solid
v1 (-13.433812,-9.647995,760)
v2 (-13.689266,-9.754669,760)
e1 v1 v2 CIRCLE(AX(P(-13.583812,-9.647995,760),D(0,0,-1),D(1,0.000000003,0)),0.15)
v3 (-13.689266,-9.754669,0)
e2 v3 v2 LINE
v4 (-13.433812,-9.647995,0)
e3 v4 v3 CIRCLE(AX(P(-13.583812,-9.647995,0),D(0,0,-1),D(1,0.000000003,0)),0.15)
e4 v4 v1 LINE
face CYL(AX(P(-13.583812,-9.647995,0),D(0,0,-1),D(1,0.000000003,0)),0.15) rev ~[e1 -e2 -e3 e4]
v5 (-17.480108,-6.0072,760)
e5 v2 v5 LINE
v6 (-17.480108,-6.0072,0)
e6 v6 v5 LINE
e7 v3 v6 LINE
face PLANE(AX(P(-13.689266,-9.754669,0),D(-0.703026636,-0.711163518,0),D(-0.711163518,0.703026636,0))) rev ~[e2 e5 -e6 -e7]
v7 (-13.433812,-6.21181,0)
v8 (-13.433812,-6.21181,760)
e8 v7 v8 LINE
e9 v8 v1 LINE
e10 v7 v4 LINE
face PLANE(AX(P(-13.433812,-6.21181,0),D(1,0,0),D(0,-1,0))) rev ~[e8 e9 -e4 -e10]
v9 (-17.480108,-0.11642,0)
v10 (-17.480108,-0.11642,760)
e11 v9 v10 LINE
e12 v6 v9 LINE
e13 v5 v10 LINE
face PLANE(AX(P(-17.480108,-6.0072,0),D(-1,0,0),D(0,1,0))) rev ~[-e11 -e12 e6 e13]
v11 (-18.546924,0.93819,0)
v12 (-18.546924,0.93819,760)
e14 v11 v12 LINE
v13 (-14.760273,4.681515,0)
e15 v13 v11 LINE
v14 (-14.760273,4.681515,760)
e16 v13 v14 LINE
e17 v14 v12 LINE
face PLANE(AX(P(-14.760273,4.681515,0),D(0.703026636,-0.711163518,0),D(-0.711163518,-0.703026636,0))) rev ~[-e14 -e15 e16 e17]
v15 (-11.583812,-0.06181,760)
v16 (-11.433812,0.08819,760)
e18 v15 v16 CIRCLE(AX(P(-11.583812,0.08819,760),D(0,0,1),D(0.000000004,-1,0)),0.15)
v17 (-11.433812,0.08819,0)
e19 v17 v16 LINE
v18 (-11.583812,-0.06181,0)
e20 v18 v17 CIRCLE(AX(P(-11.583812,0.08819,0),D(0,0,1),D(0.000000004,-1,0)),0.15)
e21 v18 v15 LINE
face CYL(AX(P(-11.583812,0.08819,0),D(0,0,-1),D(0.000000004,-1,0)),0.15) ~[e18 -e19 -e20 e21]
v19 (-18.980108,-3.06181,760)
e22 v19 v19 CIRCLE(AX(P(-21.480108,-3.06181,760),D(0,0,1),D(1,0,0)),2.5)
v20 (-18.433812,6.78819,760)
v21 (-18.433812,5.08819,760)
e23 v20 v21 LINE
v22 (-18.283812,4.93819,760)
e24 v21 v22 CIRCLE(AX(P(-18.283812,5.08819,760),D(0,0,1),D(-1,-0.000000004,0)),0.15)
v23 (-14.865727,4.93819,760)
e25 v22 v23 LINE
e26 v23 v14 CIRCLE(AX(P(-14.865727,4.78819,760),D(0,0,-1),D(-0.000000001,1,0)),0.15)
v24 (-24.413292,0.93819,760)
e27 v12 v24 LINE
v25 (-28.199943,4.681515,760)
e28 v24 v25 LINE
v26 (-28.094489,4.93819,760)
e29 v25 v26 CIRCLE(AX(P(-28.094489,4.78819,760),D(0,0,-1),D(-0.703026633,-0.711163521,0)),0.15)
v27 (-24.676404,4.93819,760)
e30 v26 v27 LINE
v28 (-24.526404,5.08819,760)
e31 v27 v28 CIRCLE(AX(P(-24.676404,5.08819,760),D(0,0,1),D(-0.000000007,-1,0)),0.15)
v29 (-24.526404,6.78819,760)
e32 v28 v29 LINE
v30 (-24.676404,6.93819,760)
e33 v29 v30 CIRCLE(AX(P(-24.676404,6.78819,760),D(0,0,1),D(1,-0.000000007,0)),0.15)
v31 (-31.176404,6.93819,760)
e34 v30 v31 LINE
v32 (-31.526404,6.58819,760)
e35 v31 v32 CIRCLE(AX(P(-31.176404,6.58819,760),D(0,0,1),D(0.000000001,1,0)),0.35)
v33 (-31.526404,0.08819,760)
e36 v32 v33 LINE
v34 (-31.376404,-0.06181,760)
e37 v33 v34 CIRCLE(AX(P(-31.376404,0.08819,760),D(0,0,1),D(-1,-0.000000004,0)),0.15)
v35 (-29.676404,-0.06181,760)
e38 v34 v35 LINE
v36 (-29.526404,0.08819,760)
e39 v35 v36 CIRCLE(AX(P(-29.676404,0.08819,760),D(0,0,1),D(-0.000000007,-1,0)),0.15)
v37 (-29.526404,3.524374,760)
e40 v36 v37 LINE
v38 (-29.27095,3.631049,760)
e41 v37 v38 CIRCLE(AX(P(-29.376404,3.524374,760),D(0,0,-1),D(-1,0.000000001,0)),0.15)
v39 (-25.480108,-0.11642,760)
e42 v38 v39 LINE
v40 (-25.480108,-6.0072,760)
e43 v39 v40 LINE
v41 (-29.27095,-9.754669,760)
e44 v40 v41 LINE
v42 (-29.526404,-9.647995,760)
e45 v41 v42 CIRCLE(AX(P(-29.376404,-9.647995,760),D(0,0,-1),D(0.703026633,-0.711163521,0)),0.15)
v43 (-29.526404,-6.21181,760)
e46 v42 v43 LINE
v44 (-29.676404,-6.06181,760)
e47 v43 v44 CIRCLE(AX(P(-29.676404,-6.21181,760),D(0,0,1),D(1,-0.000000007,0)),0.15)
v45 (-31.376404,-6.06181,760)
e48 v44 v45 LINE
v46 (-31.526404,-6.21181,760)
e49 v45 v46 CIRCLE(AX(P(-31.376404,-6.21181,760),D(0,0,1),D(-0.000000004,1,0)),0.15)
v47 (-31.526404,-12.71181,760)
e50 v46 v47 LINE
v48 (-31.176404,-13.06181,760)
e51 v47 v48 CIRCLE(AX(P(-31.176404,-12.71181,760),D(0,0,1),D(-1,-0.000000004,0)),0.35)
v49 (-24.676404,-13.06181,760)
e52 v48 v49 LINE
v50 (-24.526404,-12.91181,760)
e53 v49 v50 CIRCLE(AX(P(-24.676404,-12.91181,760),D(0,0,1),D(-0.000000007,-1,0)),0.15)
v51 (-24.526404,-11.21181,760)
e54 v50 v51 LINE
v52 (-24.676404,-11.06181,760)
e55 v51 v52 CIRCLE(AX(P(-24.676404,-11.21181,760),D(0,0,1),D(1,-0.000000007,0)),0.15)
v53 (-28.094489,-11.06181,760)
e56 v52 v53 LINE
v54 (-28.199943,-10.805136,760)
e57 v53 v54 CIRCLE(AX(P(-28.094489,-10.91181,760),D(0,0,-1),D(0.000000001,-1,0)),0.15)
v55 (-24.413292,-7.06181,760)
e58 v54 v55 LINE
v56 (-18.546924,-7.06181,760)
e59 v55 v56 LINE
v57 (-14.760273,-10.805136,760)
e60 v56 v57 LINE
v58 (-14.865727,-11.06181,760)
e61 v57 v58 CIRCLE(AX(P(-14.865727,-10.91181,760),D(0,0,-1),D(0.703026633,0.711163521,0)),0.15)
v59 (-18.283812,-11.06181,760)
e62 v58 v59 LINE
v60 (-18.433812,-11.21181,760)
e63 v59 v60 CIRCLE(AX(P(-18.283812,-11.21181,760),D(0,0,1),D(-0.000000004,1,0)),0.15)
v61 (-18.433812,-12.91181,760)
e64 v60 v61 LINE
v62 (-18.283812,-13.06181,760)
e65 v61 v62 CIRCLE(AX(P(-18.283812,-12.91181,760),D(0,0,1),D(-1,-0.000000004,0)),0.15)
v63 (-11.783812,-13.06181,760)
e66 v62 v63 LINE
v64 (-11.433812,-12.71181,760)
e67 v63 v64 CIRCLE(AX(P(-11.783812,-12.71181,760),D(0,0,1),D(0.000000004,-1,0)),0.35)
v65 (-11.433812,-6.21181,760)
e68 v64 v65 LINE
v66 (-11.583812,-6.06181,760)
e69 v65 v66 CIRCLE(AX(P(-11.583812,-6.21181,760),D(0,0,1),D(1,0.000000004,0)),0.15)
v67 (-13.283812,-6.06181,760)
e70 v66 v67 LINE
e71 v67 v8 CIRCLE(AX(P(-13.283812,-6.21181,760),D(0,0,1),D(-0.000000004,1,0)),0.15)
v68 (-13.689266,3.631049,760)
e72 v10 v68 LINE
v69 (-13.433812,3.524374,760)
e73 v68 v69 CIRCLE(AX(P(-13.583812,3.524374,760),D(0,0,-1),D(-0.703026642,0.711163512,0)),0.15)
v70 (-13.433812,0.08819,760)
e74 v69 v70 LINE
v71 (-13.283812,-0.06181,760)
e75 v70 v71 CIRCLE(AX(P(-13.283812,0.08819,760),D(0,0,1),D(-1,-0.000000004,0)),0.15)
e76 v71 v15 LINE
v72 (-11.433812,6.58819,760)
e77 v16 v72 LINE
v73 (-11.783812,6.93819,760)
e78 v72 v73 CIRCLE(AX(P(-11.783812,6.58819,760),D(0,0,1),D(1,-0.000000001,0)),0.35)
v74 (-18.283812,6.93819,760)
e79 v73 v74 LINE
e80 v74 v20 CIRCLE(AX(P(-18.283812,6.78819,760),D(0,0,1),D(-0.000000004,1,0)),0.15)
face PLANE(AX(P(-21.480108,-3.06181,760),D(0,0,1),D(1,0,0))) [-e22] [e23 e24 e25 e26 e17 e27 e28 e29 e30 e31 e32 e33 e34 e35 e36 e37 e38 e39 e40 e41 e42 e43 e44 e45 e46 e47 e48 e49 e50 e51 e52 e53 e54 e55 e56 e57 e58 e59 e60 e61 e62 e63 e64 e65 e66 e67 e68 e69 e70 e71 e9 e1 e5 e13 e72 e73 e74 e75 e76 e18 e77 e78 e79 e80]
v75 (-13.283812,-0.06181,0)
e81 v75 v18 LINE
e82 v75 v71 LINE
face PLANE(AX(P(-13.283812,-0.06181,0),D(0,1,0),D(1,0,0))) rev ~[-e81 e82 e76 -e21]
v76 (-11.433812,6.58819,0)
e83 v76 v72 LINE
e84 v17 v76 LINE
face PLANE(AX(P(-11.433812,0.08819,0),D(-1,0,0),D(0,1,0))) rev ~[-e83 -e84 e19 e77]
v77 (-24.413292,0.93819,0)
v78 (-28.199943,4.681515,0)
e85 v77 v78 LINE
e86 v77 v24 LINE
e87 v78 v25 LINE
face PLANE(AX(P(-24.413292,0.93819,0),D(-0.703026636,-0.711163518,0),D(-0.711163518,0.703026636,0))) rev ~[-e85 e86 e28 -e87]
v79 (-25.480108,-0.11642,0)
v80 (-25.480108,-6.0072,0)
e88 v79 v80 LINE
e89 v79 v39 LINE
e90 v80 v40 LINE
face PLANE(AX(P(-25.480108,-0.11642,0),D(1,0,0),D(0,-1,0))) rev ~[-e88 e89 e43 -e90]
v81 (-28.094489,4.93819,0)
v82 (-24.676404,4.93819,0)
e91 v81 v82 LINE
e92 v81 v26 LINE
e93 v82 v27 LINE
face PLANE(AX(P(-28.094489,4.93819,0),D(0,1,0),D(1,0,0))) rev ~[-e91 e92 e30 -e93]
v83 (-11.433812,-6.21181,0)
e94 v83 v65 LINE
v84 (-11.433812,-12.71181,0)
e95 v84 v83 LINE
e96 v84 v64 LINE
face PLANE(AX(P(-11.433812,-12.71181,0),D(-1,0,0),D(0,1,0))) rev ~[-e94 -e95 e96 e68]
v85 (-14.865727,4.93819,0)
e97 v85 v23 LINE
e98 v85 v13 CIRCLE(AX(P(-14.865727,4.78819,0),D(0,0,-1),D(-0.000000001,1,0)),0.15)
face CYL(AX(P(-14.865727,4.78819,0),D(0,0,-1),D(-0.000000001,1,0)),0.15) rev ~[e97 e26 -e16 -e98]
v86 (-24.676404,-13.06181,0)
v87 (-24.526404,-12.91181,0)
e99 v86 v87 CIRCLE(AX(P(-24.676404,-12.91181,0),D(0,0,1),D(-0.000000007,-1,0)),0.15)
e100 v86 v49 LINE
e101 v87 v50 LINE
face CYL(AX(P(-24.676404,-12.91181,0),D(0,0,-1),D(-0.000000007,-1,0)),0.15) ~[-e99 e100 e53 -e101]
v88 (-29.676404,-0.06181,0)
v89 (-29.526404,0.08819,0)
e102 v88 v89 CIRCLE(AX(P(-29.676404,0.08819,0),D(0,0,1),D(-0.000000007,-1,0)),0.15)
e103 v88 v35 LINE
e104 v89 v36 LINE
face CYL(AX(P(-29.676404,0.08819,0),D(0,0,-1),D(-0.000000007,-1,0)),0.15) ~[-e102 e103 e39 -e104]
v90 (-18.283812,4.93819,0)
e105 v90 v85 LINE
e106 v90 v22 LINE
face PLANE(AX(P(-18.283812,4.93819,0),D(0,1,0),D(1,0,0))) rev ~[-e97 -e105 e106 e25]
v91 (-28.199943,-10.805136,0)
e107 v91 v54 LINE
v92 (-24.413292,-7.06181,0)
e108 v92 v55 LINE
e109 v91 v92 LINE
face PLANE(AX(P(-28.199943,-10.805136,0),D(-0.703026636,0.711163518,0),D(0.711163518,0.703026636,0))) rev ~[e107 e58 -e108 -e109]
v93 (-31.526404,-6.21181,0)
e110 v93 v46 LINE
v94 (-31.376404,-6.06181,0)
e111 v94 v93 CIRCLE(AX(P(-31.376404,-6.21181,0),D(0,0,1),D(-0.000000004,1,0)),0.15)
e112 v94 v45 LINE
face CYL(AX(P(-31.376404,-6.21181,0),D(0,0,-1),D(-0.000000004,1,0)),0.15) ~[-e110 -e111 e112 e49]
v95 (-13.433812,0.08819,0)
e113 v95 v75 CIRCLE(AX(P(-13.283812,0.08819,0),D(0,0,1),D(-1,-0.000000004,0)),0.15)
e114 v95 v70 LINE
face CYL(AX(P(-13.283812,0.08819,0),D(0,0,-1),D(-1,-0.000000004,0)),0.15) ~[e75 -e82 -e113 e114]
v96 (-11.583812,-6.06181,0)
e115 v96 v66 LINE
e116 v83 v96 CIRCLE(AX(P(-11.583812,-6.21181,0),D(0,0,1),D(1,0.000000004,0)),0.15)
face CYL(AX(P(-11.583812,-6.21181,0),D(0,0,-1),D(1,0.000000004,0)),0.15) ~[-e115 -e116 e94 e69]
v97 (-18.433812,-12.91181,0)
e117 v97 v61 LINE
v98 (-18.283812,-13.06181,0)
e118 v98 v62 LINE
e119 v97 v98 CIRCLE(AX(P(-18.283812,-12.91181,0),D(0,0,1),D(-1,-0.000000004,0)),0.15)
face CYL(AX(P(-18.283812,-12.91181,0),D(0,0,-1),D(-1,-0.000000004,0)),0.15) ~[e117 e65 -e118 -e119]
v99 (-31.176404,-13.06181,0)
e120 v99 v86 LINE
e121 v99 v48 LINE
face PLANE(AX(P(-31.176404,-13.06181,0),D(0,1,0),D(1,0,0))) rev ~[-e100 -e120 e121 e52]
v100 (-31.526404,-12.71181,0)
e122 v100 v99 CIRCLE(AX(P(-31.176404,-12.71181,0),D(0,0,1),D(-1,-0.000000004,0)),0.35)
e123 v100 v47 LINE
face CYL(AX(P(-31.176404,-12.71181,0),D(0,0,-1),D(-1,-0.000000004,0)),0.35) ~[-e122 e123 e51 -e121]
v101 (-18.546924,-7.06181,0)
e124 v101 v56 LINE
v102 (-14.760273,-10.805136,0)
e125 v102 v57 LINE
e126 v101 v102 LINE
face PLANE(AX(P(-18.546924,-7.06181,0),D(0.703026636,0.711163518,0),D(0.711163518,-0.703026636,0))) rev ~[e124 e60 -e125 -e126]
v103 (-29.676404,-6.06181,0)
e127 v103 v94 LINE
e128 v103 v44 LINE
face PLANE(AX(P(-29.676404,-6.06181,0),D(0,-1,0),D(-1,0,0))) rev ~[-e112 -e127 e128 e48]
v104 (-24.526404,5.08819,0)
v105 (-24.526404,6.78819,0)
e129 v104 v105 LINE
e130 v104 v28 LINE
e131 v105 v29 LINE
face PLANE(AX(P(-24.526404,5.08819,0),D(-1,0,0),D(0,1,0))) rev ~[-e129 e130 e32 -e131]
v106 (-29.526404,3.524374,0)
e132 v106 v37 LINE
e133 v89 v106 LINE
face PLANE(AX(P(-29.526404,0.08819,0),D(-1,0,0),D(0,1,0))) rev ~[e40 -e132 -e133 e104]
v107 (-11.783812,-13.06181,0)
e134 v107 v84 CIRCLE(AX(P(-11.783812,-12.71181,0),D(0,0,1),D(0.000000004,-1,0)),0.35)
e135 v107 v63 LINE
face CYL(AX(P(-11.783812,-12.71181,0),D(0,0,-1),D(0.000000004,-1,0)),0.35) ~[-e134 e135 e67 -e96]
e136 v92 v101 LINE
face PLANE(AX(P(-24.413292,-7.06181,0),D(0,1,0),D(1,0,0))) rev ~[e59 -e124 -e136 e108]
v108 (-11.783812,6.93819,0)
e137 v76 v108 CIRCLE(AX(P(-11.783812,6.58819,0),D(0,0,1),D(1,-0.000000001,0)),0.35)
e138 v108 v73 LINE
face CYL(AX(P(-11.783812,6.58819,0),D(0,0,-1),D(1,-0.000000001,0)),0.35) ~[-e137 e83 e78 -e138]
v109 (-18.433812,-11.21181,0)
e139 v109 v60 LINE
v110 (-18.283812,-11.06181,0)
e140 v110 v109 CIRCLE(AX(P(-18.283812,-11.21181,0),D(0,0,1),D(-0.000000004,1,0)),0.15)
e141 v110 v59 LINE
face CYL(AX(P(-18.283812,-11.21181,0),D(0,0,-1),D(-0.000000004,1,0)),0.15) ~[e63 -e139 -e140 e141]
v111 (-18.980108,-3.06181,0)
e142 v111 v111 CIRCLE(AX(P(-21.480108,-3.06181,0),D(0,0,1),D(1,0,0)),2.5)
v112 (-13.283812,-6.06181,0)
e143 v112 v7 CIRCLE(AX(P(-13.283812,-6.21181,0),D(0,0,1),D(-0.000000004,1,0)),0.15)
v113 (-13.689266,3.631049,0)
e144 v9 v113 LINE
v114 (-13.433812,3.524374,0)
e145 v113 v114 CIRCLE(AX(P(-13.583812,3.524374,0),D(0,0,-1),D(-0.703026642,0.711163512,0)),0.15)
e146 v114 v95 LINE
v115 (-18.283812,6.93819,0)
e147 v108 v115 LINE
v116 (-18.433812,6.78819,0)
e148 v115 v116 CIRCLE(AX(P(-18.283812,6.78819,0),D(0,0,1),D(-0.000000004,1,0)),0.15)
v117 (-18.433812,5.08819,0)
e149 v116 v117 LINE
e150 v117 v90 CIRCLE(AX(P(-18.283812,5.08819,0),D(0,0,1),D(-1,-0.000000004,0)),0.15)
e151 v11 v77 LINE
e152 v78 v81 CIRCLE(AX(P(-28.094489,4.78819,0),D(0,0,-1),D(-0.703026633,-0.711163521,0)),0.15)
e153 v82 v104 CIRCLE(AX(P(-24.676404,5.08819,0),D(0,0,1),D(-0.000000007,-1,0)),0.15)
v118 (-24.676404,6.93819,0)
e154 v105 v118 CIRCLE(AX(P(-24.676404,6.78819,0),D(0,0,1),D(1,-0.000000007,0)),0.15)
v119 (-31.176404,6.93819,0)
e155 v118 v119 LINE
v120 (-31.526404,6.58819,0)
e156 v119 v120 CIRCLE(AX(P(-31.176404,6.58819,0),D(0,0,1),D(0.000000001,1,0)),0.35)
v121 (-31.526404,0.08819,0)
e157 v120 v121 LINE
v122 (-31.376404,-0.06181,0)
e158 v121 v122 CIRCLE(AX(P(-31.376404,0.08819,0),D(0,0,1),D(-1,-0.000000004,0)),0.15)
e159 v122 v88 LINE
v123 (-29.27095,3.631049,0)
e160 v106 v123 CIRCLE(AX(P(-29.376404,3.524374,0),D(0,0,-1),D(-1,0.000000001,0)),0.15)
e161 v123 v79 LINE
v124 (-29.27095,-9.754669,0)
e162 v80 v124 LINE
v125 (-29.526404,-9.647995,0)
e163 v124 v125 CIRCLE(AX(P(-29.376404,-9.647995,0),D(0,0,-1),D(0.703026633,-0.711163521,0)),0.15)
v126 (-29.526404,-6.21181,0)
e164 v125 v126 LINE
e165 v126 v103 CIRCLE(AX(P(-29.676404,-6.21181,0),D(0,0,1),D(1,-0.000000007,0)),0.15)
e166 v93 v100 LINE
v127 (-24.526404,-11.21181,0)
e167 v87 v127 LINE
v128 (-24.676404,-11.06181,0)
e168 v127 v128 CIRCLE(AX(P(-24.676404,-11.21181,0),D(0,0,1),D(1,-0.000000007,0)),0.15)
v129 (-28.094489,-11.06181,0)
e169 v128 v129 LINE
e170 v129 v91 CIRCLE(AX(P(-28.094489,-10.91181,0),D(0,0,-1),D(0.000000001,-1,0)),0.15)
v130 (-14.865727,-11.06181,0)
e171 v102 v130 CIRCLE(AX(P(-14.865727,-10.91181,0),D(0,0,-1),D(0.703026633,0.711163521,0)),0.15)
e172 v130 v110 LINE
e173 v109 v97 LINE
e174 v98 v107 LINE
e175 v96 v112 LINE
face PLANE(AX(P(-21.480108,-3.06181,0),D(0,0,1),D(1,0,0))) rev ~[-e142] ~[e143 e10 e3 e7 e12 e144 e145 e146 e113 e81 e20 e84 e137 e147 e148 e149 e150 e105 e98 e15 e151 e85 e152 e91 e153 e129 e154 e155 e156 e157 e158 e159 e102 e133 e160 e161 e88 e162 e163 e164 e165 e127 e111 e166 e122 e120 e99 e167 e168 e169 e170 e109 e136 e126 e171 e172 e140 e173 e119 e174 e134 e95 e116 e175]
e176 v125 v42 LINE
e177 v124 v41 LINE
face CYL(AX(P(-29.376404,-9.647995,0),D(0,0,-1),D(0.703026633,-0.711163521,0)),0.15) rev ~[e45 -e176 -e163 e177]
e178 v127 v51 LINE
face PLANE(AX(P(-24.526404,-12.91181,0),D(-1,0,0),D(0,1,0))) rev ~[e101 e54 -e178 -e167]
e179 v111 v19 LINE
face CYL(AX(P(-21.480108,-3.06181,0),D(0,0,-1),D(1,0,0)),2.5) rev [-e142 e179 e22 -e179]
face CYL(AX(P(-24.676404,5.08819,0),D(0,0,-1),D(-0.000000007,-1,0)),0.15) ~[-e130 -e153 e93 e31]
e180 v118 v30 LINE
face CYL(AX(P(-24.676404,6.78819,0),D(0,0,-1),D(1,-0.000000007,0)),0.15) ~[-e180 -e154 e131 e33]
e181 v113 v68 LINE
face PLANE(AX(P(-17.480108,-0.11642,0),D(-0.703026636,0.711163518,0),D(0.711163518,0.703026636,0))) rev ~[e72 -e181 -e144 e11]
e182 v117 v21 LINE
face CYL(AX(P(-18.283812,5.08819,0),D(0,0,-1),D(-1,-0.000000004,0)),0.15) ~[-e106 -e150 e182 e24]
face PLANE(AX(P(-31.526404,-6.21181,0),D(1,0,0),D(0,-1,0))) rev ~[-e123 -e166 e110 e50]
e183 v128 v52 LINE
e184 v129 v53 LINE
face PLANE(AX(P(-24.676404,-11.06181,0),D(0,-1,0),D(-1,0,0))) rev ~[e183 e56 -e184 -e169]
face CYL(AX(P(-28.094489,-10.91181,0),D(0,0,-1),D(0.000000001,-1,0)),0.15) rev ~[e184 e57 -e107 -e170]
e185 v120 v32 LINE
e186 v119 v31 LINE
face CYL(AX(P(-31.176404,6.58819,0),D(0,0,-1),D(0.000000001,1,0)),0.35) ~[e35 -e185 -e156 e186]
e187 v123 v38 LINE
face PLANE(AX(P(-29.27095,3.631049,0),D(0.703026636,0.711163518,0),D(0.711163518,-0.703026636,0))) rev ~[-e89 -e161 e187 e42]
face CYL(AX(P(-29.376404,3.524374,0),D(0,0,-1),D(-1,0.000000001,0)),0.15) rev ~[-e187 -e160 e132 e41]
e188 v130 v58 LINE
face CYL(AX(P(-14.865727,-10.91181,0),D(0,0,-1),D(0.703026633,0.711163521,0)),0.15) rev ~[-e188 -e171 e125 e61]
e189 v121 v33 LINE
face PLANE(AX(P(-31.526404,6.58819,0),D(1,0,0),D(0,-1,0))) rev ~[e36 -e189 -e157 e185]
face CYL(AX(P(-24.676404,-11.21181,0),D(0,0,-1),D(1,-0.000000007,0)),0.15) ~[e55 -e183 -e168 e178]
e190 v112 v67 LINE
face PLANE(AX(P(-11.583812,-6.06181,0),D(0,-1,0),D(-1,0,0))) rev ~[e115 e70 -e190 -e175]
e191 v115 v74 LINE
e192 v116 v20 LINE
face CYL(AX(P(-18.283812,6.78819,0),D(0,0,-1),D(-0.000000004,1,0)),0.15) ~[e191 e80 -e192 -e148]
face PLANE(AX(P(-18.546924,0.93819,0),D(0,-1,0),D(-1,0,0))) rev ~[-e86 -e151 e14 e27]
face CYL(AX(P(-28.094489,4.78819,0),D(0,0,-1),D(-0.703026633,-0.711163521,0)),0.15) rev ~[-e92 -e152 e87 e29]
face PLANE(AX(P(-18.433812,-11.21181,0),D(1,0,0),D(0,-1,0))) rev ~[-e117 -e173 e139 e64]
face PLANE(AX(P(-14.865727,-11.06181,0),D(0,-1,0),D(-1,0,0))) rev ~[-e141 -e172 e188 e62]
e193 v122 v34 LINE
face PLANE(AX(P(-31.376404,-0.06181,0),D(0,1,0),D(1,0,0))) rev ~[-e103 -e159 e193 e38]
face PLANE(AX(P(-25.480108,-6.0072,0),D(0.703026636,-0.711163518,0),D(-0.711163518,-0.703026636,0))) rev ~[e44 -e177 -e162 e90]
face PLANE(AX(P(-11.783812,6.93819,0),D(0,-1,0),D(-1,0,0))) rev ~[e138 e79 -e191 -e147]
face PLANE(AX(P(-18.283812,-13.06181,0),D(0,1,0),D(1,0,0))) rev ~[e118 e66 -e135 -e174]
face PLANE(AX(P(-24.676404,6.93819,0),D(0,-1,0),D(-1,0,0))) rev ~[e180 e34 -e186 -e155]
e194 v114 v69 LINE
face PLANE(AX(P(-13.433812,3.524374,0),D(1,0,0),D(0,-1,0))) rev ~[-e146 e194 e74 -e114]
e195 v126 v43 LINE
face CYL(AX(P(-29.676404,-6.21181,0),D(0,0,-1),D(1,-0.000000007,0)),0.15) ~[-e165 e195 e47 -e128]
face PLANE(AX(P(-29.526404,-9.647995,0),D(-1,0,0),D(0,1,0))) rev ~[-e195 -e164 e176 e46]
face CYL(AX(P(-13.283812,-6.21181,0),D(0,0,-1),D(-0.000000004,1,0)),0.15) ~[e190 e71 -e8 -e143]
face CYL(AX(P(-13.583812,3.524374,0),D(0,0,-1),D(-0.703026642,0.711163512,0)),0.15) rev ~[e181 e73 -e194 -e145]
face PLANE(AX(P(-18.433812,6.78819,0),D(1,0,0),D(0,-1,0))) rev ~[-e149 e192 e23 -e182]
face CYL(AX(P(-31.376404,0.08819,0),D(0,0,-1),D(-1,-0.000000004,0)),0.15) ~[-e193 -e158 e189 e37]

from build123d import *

# Parameters (mm, degrees)
SKETCH1_R           = 2.5
BOSS_EXTRUDE1_DEPTH = 760


with BuildPart() as part:
    # Sketch1 → Boss-Extrude1 (new body)
    with BuildSketch(Plane.XY):
        with BuildLine():
            Line((-31.376404226, -0.06181021), (-29.676404226, -0.06181021))
            ThreePointArc((-29.676404226, -0.06181021), (-29.570338208, -0.017876227), (-29.526404226, 0.08818979))
            Line((-29.526404226, 0.08818979), (-29.526404226, 3.524374304))
            ThreePointArc((-29.526404226, 3.524374304), (-29.43420518, 3.662790523), (-29.27095023, 3.631048831))
            Line((-29.27095023, 3.631048831), (-25.480107929, -0.116419988))
            Line((-25.480107929, -0.116419988), (-25.480107929, -6.007200432))
            Line((-25.480107929, -6.007200432), (-29.27095023, -9.754669251))
            ThreePointArc((-29.27095023, -9.754669251), (-29.43420518, -9.786410942), (-29.526404226, -9.647994723))
            Line((-29.526404226, -9.647994723), (-29.526404226, -6.21181021))
            ThreePointArc((-29.526404226, -6.21181021), (-29.570338208, -6.105744193), (-29.676404226, -6.06181021))
            Line((-29.676404226, -6.06181021), (-31.376404226, -6.06181021))
            ThreePointArc((-31.376404226, -6.06181021), (-31.482470243, -6.105744193), (-31.526404226, -6.21181021))
            Line((-31.526404226, -6.21181021), (-31.526404226, -12.71181021))
            ThreePointArc((-31.526404226, -12.71181021), (-31.423891599, -12.959297583), (-31.176404226, -13.06181021))
            Line((-31.176404226, -13.06181021), (-24.676404226, -13.06181021))
            ThreePointArc((-24.676404226, -13.06181021), (-24.570338208, -13.017876227), (-24.526404226, -12.91181021))
            Line((-24.526404226, -12.91181021), (-24.526404226, -11.21181021))
            ThreePointArc((-24.526404226, -11.21181021), (-24.570338208, -11.105744193), (-24.676404226, -11.06181021))
            Line((-24.676404226, -11.06181021), (-28.094489023, -11.06181021))
            ThreePointArc((-28.094489023, -11.06181021), (-28.233235517, -10.96881381), (-28.199943018, -10.805135682))
            Line((-28.199943018, -10.805135682), (-24.41329202, -7.06181021))
            Line((-24.41329202, -7.06181021), (-18.546923839, -7.06181021))
            Line((-18.546923839, -7.06181021), (-14.760272841, -10.805135682))
            ThreePointArc((-14.760272841, -10.805135682), (-14.726980342, -10.96881381), (-14.865726836, -11.06181021))
            Line((-14.865726836, -11.06181021), (-18.283811633, -11.06181021))
            ThreePointArc((-18.283811633, -11.06181021), (-18.38987765, -11.105744193), (-18.433811633, -11.21181021))
            Line((-18.433811633, -11.21181021), (-18.433811633, -12.91181021))
            ThreePointArc((-18.433811633, -12.91181021), (-18.38987765, -13.017876227), (-18.283811633, -13.06181021))
            Line((-18.283811633, -13.06181021), (-11.783811633, -13.06181021))
            ThreePointArc((-11.783811633, -13.06181021), (-11.53632426, -12.959297583), (-11.433811633, -12.71181021))
            Line((-11.433811633, -12.71181021), (-11.433811633, -6.21181021))
            ThreePointArc((-11.433811633, -6.21181021), (-11.477745616, -6.105744193), (-11.583811633, -6.06181021))
            Line((-11.583811633, -6.06181021), (-13.283811633, -6.06181021))
            ThreePointArc((-13.283811633, -6.06181021), (-13.38987765, -6.105744193), (-13.433811633, -6.21181021))
            Line((-13.433811633, -6.21181021), (-13.433811633, -9.647994723))
            ThreePointArc((-13.433811633, -9.647994723), (-13.526010678, -9.786410942), (-13.689265628, -9.754669251))
            Line((-13.689265628, -9.754669251), (-17.480107929, -6.007200432))
            Line((-17.480107929, -6.007200432), (-17.480107929, -0.116419988))
            Line((-17.480107929, -0.116419988), (-13.689265628, 3.631048831))
            ThreePointArc((-13.689265628, 3.631048831), (-13.526010678, 3.662790523), (-13.433811633, 3.524374304))
            Line((-13.433811633, 3.524374304), (-13.433811633, 0.08818979))
            ThreePointArc((-13.433811633, 0.08818979), (-13.38987765, -0.017876227), (-13.283811633, -0.06181021))
            Line((-13.283811633, -0.06181021), (-11.583811633, -0.06181021))
            ThreePointArc((-11.583811633, -0.06181021), (-11.477745616, -0.017876227), (-11.433811633, 0.08818979))
            Line((-11.433811633, 0.08818979), (-11.433811633, 6.58818979))
            ThreePointArc((-11.433811633, 6.58818979), (-11.53632426, 6.835677164), (-11.783811633, 6.93818979))
            Line((-11.783811633, 6.93818979), (-18.283811633, 6.93818979))
            ThreePointArc((-18.283811633, 6.93818979), (-18.38987765, 6.894255807), (-18.433811633, 6.78818979))
            Line((-18.433811633, 6.78818979), (-18.433811633, 5.08818979))
            ThreePointArc((-18.433811633, 5.08818979), (-18.38987765, 4.982123773), (-18.283811633, 4.93818979))
            Line((-18.283811633, 4.93818979), (-14.865726836, 4.93818979))
            ThreePointArc((-14.865726836, 4.93818979), (-14.726980342, 4.84519339), (-14.760272841, 4.681515262))
            Line((-14.760272841, 4.681515262), (-18.546923839, 0.93818979))
            Line((-18.546923839, 0.93818979), (-24.41329202, 0.93818979))
            Line((-24.41329202, 0.93818979), (-28.199943018, 4.681515262))
            ThreePointArc((-28.199943018, 4.681515262), (-28.233235517, 4.84519339), (-28.094489023, 4.93818979))
            Line((-28.094489023, 4.93818979), (-24.676404226, 4.93818979))
            ThreePointArc((-24.676404226, 4.93818979), (-24.570338208, 4.982123773), (-24.526404226, 5.08818979))
            Line((-24.526404226, 5.08818979), (-24.526404226, 6.78818979))
            ThreePointArc((-24.526404226, 6.78818979), (-24.570338208, 6.894255807), (-24.676404226, 6.93818979))
            Line((-24.676404226, 6.93818979), (-31.176404226, 6.93818979))
            ThreePointArc((-31.176404226, 6.93818979), (-31.423891599, 6.835677164), (-31.526404226, 6.58818979))
            Line((-31.526404226, 6.58818979), (-31.526404226, 0.08818979))
            ThreePointArc((-31.526404226, 0.08818979), (-31.482470243, -0.017876227), (-31.376404226, -0.06181021))
        make_face()
        with Locations((-21.480107929, -3.06181021)):
            Circle(SKETCH1_R, mode=Mode.SUBTRACT)
    extrude(amount=BOSS_EXTRUDE1_DEPTH)


solid = part.part
